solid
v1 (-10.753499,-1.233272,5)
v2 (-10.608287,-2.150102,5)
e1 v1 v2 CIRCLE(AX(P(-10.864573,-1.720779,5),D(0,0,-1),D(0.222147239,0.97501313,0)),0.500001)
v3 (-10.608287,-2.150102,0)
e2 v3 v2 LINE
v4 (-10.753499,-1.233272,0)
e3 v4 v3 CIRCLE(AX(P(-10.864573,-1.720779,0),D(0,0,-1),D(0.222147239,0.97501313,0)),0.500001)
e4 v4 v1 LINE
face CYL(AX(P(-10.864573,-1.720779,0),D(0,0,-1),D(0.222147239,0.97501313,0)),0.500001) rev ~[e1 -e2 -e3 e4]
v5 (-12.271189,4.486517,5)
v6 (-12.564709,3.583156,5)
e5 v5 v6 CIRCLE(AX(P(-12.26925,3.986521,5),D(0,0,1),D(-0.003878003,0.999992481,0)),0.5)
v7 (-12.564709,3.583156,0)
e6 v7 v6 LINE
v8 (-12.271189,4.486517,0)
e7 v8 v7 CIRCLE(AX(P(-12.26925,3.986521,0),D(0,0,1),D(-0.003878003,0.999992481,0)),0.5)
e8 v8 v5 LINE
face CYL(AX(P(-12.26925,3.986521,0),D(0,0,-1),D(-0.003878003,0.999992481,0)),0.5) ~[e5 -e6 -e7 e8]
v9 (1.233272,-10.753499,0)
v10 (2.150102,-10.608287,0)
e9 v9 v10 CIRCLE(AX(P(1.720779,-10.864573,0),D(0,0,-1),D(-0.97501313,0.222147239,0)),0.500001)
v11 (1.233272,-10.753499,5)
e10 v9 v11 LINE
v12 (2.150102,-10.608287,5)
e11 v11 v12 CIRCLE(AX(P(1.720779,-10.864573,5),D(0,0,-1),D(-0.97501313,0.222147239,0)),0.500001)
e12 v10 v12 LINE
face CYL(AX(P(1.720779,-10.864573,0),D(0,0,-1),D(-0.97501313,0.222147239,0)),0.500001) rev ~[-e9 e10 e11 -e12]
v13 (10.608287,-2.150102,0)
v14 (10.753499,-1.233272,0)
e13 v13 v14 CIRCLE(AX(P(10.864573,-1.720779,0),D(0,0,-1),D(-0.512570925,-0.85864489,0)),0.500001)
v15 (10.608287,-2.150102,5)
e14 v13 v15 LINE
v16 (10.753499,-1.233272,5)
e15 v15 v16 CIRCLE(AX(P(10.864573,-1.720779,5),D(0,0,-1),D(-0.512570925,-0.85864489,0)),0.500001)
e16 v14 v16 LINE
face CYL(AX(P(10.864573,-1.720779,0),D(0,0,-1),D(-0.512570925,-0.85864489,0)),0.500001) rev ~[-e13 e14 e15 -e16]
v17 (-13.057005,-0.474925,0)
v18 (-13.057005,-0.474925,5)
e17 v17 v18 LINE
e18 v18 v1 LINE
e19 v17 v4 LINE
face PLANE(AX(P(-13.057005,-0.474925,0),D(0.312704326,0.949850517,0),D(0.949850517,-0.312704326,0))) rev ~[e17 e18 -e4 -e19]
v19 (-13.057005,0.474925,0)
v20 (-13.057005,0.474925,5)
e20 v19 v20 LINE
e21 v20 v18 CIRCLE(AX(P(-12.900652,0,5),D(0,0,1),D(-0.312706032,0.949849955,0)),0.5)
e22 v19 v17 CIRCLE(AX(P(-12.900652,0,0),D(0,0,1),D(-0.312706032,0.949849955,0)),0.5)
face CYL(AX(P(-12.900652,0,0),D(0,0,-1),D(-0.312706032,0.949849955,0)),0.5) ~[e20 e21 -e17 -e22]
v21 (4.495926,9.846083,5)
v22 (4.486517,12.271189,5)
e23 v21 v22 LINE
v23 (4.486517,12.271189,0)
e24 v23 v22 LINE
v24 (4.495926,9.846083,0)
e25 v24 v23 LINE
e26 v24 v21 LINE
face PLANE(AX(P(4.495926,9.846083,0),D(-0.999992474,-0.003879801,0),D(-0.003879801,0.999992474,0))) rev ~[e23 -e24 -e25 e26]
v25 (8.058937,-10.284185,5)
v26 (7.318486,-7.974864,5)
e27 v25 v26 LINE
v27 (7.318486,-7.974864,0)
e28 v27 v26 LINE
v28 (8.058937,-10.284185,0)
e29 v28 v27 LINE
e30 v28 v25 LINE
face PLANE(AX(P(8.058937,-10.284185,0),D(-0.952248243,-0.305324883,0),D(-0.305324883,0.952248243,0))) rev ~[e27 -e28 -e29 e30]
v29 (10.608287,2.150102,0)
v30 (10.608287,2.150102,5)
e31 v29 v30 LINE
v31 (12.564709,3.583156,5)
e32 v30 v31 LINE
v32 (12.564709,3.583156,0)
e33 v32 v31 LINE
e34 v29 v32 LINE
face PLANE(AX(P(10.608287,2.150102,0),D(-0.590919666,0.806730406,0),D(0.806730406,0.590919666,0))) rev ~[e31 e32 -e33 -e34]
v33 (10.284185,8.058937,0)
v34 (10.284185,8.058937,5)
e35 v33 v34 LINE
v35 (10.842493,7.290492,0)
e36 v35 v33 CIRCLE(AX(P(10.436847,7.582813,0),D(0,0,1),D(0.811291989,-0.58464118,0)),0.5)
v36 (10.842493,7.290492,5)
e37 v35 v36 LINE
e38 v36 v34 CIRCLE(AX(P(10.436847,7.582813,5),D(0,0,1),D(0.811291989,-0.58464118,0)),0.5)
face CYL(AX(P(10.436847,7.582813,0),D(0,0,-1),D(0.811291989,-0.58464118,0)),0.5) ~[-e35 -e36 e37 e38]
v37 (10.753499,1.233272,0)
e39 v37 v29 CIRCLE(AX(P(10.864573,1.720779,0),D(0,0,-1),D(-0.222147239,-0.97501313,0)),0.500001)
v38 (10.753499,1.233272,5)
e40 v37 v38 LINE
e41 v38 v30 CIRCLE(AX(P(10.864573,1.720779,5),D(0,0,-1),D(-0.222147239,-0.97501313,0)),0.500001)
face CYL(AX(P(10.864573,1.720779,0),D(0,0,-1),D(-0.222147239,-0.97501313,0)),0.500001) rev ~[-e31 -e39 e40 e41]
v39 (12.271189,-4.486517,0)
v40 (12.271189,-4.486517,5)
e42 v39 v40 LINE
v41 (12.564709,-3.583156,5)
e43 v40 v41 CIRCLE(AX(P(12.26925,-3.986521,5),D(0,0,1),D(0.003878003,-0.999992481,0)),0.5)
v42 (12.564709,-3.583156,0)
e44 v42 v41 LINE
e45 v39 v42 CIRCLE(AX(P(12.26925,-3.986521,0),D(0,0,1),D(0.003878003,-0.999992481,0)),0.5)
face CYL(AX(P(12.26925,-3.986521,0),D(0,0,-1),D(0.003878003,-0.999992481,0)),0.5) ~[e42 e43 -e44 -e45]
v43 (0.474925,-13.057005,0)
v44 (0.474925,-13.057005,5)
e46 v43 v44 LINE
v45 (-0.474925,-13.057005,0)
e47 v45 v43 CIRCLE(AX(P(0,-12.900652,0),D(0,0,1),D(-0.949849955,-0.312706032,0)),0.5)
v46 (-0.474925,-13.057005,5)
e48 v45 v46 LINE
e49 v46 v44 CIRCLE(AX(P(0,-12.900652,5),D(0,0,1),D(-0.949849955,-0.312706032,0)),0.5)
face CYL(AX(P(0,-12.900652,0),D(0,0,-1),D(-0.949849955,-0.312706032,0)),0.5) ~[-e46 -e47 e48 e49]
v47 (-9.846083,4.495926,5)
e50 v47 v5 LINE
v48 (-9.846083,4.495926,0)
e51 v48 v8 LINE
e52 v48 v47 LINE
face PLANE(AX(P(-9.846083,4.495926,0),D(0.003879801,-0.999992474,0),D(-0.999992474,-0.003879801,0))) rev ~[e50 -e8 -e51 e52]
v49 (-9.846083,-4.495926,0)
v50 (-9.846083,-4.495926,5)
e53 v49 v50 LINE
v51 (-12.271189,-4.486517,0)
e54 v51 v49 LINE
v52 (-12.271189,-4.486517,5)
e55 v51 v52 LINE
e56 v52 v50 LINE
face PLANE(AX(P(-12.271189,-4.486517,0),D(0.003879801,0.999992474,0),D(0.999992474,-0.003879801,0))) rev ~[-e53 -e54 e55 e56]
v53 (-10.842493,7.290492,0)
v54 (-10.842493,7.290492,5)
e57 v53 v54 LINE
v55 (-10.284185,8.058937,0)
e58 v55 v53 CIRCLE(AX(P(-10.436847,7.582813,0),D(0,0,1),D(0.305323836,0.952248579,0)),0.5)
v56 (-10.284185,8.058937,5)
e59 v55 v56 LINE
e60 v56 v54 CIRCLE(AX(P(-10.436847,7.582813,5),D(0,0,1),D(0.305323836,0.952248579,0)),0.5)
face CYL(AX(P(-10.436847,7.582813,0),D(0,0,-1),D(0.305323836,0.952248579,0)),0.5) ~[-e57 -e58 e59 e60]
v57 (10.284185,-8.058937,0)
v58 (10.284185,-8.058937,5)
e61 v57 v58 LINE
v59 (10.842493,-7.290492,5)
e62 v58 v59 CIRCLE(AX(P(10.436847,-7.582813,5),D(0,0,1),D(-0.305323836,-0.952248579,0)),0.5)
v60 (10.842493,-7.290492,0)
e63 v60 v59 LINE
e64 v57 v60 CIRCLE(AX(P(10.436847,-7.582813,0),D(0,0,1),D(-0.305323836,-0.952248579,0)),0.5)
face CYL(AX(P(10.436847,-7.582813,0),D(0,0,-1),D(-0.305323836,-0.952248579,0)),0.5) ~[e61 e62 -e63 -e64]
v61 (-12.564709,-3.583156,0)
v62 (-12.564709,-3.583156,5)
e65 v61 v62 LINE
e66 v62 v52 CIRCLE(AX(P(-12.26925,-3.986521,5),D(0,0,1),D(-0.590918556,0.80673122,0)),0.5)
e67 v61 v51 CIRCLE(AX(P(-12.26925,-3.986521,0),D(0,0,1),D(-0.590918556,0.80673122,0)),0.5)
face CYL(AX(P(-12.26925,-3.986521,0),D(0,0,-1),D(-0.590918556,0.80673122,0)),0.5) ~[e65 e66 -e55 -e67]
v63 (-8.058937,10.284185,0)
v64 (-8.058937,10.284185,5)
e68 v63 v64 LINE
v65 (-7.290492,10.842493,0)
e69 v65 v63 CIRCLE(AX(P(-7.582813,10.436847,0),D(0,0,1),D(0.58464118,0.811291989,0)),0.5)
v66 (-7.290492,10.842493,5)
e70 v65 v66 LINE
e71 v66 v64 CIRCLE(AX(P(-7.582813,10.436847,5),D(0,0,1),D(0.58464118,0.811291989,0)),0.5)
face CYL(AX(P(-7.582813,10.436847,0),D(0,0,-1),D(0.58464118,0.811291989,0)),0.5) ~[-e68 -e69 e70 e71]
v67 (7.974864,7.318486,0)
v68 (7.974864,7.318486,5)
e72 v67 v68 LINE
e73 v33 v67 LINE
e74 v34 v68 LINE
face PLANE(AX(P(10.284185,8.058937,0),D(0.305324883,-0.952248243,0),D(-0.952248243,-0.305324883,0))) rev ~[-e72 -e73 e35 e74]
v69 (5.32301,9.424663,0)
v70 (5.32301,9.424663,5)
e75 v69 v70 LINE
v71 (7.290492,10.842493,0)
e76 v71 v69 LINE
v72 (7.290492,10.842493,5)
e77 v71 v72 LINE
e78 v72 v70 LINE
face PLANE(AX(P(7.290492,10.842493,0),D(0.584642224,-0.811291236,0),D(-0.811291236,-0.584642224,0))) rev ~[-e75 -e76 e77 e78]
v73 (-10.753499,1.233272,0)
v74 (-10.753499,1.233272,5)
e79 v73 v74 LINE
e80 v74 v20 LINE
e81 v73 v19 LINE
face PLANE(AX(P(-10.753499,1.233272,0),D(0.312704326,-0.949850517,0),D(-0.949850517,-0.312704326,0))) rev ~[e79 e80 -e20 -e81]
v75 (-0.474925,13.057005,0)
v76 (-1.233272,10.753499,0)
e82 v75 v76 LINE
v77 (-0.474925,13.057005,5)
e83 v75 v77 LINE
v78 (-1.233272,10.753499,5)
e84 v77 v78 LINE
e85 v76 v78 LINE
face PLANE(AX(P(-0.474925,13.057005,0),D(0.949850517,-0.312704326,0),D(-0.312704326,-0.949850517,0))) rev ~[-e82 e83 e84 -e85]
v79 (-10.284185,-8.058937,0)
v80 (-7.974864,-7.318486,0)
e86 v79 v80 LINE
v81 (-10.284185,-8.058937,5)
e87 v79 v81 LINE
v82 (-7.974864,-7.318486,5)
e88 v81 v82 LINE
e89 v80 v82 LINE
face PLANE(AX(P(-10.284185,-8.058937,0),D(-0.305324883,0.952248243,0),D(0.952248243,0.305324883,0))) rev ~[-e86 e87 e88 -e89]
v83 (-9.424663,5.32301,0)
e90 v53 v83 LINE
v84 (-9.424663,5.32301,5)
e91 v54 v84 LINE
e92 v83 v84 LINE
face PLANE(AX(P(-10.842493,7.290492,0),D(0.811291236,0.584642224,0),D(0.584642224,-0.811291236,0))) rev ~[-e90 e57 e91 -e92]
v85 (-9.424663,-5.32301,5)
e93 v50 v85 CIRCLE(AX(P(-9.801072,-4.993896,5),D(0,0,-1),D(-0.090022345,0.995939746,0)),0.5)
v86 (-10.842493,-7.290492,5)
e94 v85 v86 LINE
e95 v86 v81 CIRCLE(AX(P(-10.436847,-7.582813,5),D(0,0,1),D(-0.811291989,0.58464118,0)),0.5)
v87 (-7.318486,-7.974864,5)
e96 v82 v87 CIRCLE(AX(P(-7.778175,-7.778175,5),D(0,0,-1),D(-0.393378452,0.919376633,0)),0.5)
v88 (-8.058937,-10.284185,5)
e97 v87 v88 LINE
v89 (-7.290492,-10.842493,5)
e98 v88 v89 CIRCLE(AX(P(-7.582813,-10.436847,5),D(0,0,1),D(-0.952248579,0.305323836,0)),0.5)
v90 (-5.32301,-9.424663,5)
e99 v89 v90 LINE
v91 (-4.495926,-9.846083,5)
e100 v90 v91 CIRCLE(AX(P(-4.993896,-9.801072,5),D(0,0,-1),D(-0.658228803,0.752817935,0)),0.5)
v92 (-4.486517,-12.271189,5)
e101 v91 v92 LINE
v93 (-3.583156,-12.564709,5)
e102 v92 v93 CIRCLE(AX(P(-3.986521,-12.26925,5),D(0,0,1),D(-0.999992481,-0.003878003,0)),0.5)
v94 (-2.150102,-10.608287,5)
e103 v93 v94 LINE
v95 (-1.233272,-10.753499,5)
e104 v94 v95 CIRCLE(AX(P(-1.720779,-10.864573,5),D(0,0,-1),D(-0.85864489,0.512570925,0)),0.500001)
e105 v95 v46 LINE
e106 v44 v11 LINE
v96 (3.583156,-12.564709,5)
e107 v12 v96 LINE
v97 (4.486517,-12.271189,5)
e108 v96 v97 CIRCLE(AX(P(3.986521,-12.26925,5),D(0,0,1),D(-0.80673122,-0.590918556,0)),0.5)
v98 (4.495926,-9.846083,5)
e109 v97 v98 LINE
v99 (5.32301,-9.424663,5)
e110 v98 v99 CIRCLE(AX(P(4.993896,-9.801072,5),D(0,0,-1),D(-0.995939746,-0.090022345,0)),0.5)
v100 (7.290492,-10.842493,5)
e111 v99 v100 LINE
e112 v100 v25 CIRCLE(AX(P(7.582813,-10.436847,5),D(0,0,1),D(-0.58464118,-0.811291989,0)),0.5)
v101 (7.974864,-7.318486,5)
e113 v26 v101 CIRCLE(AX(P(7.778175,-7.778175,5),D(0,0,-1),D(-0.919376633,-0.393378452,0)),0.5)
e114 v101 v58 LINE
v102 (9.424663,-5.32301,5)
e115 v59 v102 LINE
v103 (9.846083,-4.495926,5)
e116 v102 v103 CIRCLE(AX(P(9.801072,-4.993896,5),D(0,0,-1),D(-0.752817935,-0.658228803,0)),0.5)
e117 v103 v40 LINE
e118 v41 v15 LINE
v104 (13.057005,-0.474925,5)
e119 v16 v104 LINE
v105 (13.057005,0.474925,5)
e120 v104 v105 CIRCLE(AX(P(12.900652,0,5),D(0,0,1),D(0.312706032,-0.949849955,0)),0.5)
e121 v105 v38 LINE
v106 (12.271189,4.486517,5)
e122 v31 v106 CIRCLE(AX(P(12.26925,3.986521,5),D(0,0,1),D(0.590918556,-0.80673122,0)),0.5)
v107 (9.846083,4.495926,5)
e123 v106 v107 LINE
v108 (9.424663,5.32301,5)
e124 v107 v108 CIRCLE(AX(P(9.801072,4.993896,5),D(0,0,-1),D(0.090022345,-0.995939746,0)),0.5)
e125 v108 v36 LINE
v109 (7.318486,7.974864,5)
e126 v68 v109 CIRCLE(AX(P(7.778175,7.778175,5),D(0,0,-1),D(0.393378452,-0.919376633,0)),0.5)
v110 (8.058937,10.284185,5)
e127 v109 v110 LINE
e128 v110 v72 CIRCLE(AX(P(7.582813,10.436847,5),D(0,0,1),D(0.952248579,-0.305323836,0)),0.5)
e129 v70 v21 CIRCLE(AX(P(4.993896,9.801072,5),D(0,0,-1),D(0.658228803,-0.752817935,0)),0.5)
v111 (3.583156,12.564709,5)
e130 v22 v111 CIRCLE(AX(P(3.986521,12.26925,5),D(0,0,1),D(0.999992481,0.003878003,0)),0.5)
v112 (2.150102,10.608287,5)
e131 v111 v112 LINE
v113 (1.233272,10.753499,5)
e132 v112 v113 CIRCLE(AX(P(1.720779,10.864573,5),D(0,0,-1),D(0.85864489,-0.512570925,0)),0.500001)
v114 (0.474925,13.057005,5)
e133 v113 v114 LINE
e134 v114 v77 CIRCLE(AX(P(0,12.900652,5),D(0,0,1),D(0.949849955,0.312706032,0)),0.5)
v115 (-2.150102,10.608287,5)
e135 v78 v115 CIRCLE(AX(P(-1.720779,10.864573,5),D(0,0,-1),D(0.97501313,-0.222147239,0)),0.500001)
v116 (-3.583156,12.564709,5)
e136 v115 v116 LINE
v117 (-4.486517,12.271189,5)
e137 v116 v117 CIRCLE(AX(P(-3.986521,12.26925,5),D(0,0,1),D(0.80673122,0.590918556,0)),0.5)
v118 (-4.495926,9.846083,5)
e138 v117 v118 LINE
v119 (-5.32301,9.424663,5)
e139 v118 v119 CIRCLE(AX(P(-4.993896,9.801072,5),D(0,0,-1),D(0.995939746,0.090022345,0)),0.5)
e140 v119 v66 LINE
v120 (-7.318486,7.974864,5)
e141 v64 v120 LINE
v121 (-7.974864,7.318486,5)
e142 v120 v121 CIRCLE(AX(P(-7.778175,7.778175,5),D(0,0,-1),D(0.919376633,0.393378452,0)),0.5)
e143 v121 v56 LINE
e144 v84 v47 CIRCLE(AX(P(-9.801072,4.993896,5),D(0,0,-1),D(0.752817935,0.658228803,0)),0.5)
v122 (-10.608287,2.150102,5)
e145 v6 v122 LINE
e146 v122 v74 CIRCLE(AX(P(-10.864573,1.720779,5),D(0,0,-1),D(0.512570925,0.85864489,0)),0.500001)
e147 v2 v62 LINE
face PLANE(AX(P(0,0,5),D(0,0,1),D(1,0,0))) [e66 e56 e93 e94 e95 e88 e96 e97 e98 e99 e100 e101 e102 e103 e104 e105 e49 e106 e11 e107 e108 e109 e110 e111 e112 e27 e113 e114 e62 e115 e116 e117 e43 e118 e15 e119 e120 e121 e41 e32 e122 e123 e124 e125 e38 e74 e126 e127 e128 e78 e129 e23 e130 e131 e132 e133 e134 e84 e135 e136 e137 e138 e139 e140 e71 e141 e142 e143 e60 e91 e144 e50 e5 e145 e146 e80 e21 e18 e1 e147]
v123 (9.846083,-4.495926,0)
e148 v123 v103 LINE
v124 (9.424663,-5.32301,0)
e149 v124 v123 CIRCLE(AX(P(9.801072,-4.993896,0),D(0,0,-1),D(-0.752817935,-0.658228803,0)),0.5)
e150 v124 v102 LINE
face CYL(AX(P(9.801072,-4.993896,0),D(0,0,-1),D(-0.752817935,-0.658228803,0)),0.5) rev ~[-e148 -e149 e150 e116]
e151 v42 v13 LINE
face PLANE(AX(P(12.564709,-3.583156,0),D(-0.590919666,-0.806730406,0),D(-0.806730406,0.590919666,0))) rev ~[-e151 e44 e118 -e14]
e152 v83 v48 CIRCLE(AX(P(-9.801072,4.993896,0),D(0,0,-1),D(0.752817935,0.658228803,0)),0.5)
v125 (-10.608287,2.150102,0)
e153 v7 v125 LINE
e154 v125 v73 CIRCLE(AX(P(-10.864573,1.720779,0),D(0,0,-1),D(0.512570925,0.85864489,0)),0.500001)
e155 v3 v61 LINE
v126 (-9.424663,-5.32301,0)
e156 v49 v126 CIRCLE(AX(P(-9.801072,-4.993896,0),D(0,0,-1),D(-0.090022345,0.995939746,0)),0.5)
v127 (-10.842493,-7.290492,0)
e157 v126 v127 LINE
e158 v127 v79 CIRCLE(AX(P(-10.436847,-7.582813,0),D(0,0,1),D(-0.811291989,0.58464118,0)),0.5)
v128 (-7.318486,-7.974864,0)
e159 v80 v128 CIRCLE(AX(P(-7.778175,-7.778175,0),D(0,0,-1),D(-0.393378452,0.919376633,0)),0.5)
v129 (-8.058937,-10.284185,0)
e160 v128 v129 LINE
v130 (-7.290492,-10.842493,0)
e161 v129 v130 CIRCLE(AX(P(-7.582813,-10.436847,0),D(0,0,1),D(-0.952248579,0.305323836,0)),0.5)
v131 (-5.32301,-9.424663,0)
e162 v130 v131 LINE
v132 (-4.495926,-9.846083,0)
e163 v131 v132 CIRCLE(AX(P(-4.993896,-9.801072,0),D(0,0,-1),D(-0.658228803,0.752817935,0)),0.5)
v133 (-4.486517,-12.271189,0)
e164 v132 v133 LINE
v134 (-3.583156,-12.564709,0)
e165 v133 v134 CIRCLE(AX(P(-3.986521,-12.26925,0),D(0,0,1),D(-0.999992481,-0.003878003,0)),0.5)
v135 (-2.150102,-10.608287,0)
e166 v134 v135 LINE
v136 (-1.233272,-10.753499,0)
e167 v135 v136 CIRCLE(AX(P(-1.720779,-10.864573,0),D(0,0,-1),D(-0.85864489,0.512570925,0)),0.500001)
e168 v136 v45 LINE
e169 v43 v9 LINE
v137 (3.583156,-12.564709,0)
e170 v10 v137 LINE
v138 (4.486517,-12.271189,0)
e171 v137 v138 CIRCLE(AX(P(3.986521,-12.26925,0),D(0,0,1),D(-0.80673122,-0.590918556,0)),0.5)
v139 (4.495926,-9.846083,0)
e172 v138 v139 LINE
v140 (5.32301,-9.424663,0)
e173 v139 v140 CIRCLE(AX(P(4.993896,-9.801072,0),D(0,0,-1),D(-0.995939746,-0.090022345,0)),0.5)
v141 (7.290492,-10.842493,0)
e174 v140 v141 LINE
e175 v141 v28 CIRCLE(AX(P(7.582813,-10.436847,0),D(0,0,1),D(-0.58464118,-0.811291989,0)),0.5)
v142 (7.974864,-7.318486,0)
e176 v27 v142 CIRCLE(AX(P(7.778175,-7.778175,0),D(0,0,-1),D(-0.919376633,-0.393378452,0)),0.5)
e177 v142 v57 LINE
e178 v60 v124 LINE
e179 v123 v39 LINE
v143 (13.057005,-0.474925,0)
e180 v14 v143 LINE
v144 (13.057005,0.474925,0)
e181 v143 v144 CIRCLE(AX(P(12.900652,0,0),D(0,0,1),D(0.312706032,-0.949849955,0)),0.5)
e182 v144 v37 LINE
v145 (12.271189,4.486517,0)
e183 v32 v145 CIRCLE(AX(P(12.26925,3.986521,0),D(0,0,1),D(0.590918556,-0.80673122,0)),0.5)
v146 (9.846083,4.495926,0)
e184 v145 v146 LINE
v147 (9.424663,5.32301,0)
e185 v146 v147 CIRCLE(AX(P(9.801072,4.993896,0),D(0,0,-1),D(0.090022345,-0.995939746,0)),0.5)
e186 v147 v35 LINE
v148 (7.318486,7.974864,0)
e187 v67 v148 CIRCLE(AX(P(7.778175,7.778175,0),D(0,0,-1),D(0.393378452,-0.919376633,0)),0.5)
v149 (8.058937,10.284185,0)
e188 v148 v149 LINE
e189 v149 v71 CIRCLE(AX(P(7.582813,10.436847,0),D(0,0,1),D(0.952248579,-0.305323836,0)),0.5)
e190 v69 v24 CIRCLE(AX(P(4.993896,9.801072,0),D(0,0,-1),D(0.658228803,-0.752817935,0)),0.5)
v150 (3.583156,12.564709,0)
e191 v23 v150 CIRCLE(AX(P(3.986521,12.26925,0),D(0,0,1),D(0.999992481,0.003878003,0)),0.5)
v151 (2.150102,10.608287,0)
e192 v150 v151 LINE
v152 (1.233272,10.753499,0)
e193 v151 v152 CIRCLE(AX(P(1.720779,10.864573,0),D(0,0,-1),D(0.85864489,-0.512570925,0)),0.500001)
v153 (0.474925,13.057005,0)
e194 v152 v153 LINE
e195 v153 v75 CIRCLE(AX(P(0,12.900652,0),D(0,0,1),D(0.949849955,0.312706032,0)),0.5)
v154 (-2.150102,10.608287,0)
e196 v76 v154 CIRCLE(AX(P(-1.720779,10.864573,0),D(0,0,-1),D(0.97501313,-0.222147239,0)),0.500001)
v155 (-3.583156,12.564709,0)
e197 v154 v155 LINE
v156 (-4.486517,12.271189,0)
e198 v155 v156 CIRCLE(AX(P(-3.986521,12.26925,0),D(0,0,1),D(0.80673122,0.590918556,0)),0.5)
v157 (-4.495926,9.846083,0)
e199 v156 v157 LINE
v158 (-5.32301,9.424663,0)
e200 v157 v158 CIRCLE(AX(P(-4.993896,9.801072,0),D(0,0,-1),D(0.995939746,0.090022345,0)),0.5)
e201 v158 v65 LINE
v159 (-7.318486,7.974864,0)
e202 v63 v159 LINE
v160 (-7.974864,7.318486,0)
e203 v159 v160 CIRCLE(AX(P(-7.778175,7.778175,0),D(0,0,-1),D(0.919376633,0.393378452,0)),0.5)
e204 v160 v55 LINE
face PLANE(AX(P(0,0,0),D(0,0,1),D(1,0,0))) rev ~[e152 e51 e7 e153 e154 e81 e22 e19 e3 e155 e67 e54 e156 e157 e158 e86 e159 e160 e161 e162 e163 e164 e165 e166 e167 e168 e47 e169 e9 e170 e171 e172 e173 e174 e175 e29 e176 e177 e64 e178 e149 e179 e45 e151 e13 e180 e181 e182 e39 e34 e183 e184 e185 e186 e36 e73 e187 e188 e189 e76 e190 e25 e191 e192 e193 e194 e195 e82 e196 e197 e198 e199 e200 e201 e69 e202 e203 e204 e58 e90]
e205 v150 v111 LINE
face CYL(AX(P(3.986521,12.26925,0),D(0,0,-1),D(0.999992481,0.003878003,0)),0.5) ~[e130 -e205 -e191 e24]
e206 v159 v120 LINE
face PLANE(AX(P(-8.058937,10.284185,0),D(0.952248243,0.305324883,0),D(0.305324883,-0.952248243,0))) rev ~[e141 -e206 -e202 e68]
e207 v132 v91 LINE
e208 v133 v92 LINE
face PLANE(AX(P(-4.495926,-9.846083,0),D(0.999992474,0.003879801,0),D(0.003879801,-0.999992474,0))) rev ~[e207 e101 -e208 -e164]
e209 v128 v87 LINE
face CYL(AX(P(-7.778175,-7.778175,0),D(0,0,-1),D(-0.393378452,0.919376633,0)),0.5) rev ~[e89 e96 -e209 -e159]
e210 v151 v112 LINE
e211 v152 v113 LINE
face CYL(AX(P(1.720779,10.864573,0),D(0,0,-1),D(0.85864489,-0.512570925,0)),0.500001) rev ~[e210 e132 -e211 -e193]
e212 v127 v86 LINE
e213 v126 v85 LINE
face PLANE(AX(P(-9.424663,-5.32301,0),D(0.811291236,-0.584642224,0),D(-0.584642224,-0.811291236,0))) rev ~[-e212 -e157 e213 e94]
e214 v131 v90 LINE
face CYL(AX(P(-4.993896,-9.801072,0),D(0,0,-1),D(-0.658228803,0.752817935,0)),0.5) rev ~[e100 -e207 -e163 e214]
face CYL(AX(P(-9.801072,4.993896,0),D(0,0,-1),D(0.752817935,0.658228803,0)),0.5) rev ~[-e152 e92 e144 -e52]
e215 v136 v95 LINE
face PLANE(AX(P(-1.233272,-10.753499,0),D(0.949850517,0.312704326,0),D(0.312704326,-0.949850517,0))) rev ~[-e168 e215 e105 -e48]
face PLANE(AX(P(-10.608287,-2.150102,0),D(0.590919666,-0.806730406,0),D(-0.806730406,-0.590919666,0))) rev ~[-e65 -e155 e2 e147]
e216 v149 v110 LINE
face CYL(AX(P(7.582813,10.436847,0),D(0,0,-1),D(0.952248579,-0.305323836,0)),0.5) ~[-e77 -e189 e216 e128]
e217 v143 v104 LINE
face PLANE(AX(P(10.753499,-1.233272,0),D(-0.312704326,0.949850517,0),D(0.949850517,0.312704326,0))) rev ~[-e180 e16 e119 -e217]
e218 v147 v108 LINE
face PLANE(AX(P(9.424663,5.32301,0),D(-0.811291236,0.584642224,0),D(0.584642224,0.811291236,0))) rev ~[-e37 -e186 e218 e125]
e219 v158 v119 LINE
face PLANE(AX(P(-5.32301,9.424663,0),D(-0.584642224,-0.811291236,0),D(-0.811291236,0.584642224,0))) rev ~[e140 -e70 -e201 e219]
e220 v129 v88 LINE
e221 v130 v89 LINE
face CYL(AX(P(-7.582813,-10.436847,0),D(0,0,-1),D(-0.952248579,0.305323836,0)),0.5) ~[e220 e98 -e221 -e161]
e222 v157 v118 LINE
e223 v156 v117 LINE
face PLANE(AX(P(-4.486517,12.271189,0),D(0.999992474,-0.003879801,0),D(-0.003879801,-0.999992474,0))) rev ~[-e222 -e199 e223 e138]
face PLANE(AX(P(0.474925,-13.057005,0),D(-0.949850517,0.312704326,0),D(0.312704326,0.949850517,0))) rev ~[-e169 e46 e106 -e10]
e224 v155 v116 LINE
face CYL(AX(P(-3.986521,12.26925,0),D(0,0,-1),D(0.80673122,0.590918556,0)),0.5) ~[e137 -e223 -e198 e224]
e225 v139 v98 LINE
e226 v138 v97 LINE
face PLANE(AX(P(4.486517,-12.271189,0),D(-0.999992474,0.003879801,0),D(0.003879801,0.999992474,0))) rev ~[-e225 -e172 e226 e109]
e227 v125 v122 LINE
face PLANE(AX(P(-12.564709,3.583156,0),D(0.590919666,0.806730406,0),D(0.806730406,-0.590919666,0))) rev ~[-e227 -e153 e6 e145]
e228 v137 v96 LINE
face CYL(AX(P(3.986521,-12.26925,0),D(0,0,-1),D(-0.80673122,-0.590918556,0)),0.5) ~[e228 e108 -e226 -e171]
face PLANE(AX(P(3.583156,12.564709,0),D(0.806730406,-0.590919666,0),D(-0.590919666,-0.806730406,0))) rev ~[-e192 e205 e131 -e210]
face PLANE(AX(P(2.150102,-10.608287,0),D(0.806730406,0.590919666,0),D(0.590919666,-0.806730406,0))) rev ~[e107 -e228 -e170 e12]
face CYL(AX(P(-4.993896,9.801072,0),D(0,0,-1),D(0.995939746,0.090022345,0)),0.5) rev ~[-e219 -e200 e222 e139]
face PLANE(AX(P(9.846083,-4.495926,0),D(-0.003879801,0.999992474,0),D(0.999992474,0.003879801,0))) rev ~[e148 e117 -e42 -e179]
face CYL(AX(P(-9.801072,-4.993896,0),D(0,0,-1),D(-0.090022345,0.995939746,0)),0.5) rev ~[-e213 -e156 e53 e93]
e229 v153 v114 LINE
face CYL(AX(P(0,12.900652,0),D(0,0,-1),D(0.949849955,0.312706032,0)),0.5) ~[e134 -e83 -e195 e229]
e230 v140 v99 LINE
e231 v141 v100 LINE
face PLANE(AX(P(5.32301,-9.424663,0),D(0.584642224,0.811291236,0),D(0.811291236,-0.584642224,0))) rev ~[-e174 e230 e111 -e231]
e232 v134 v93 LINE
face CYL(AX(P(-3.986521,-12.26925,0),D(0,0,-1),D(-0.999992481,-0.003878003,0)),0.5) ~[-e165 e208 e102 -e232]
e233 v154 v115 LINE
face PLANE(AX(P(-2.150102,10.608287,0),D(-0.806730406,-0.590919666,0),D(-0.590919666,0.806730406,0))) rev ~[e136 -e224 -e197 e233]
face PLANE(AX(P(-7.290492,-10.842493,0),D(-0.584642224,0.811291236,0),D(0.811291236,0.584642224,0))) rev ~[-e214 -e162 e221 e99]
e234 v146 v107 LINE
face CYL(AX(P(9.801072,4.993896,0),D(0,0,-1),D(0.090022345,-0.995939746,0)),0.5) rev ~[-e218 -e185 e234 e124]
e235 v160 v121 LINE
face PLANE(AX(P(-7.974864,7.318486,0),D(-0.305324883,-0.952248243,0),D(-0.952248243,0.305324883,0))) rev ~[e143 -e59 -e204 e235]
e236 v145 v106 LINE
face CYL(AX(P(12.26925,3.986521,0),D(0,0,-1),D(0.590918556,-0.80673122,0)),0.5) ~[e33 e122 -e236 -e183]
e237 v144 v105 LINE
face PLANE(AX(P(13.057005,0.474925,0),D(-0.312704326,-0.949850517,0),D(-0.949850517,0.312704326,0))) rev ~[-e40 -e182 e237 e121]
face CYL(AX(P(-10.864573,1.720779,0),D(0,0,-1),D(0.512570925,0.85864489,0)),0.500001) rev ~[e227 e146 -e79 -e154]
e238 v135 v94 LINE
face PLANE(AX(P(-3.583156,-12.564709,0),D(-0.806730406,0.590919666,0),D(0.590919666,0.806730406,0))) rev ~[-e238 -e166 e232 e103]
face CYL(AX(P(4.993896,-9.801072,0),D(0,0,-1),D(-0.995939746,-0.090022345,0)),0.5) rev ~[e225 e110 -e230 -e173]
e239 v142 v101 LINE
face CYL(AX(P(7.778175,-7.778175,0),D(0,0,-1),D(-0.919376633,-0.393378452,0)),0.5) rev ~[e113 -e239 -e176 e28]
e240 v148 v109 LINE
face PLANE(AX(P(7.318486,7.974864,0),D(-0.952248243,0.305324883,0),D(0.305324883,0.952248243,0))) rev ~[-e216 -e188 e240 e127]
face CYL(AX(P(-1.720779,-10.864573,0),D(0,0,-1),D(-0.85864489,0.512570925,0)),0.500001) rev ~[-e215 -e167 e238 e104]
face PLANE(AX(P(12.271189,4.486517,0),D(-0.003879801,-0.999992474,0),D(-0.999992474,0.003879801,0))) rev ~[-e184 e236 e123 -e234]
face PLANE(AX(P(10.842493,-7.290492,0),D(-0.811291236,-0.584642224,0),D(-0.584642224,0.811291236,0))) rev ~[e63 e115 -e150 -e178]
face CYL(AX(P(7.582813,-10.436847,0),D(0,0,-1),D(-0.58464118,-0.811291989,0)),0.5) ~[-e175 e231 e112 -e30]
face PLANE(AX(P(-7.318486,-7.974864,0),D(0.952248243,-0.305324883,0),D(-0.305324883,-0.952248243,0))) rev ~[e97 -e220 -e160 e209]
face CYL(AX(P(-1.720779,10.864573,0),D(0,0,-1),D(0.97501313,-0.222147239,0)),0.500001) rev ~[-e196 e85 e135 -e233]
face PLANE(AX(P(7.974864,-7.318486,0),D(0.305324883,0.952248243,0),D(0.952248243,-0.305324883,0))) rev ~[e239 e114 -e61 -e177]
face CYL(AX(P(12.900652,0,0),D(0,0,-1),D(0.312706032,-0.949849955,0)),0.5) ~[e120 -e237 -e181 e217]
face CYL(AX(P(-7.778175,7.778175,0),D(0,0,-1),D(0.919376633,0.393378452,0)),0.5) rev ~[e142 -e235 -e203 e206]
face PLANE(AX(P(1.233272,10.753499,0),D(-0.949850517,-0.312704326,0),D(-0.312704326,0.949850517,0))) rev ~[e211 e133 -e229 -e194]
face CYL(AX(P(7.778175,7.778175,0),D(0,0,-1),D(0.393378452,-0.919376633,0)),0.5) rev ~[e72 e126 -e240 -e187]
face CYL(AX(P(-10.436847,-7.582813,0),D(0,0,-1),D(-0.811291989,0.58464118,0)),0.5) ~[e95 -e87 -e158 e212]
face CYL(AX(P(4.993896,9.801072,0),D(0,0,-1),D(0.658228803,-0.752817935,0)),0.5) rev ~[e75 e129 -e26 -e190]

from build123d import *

# Parameters (mm, degrees)
F1_DEPTH = 5


with BuildPart() as f1:
    # F0 (on Top) → F1 (new body)
    with BuildSketch(Plane.XY):
        with BuildLine():
            Line((-0.474925, 13.057005), (-1.233272, 10.753499))
            ThreePointArc((-1.233272, 10.753499), (-1.642562, 10.370728), (-2.150102, 10.608287))
            Line((-2.150102, 10.608287), (-3.583156, 12.564709))
            ThreePointArc((-3.583156, 12.564709), (-4.141029, 12.744778), (-4.486517, 12.271189))
            Line((-4.486517, 12.271189), (-4.495926, 9.846083))
            ThreePointArc((-4.495926, 9.846083), (-4.7669, 9.355569), (-5.32301, 9.424663))
            Line((-5.32301, 9.424663), (-7.290492, 10.842493))
            ThreePointArc((-7.290492, 10.842493), (-7.876706, 10.841355), (-8.058937, 10.284185))
            Line((-8.058937, 10.284185), (-7.318486, 7.974864))
            ThreePointArc((-7.318486, 7.974864), (-7.424621, 7.424621), (-7.974864, 7.318486))
            Line((-7.974864, 7.318486), (-10.284185, 8.058937))
            ThreePointArc((-10.284185, 8.058937), (-10.841355, 7.876706), (-10.842493, 7.290492))
            Line((-10.842493, 7.290492), (-9.424663, 5.32301))
            ThreePointArc((-9.424663, 5.32301), (-9.355569, 4.7669), (-9.846083, 4.495926))
            Line((-9.846083, 4.495926), (-12.271189, 4.486517))
            ThreePointArc((-12.271189, 4.486517), (-12.744778, 4.141029), (-12.564709, 3.583156))
            Line((-12.564709, 3.583156), (-10.608287, 2.150102))
            ThreePointArc((-10.608287, 2.150102), (-10.370728, 1.642562), (-10.753499, 1.233272))
            Line((-10.753499, 1.233272), (-13.057005, 0.474925))
            ThreePointArc((-13.057005, 0.474925), (-13.400652, 0), (-13.057005, -0.474925))
            Line((-13.057005, -0.474925), (-10.753499, -1.233272))
            ThreePointArc((-10.753499, -1.233272), (-10.370728, -1.642562), (-10.608287, -2.150102))
            Line((-10.608287, -2.150102), (-12.564709, -3.583156))
            ThreePointArc((-12.564709, -3.583156), (-12.744778, -4.141029), (-12.271189, -4.486517))
            Line((-12.271189, -4.486517), (-9.846083, -4.495926))
            ThreePointArc((-9.846083, -4.495926), (-9.355569, -4.7669), (-9.424663, -5.32301))
            Line((-9.424663, -5.32301), (-10.842493, -7.290492))
            ThreePointArc((-10.842493, -7.290492), (-10.841355, -7.876706), (-10.284185, -8.058937))
            Line((-10.284185, -8.058937), (-7.974864, -7.318486))
            ThreePointArc((-7.974864, -7.318486), (-7.424621, -7.424621), (-7.318486, -7.974864))
            Line((-7.318486, -7.974864), (-8.058937, -10.284185))
            ThreePointArc((-8.058937, -10.284185), (-7.876706, -10.841355), (-7.290492, -10.842493))
            Line((-7.290492, -10.842493), (-5.32301, -9.424663))
            ThreePointArc((-5.32301, -9.424663), (-4.7669, -9.355569), (-4.495926, -9.846083))
            Line((-4.495926, -9.846083), (-4.486517, -12.271189))
            ThreePointArc((-4.486517, -12.271189), (-4.141029, -12.744778), (-3.583156, -12.564709))
            Line((-3.583156, -12.564709), (-2.150102, -10.608287))
            ThreePointArc((-2.150102, -10.608287), (-1.642562, -10.370728), (-1.233272, -10.753499))
            Line((-1.233272, -10.753499), (-0.474925, -13.057005))
            ThreePointArc((-0.474925, -13.057005), (0, -13.400652), (0.474925, -13.057005))
            Line((0.474925, -13.057005), (1.233272, -10.753499))
            ThreePointArc((1.233272, -10.753499), (1.642562, -10.370728), (2.150102, -10.608287))
            Line((2.150102, -10.608287), (3.583156, -12.564709))
            ThreePointArc((3.583156, -12.564709), (4.141029, -12.744778), (4.486517, -12.271189))
            Line((4.486517, -12.271189), (4.495926, -9.846083))
            ThreePointArc((4.495926, -9.846083), (4.7669, -9.355569), (5.32301, -9.424663))
            Line((5.32301, -9.424663), (7.290492, -10.842493))
            ThreePointArc((7.290492, -10.842493), (7.876706, -10.841355), (8.058937, -10.284185))
            Line((8.058937, -10.284185), (7.318486, -7.974864))
            ThreePointArc((7.318486, -7.974864), (7.424621, -7.424621), (7.974864, -7.318486))
            Line((7.974864, -7.318486), (10.284185, -8.058937))
            ThreePointArc((10.284185, -8.058937), (10.841355, -7.876706), (10.842493, -7.290492))
            Line((10.842493, -7.290492), (9.424663, -5.32301))
            ThreePointArc((9.424663, -5.32301), (9.355569, -4.7669), (9.846083, -4.495926))
            Line((9.846083, -4.495926), (12.271189, -4.486517))
            ThreePointArc((12.271189, -4.486517), (12.744778, -4.141029), (12.564709, -3.583156))
            Line((12.564709, -3.583156), (10.608287, -2.150102))
            ThreePointArc((10.608287, -2.150102), (10.370728, -1.642562), (10.753499, -1.233272))
            Line((10.753499, -1.233272), (13.057005, -0.474925))
            ThreePointArc((13.057005, -0.474925), (13.400652, 0), (13.057005, 0.474925))
            Line((13.057005, 0.474925), (10.753499, 1.233272))
            ThreePointArc((10.753499, 1.233272), (10.370728, 1.642562), (10.608287, 2.150102))
            Line((10.608287, 2.150102), (12.564709, 3.583156))
            ThreePointArc((12.564709, 3.583156), (12.744778, 4.141029), (12.271189, 4.486517))
            Line((12.271189, 4.486517), (9.846083, 4.495926))
            ThreePointArc((9.846083, 4.495926), (9.355569, 4.7669), (9.424663, 5.32301))
            Line((9.424663, 5.32301), (10.842493, 7.290492))
            ThreePointArc((10.842493, 7.290492), (10.841355, 7.876706), (10.284185, 8.058937))
            Line((10.284185, 8.058937), (7.974864, 7.318486))
            ThreePointArc((7.974864, 7.318486), (7.424621, 7.424621), (7.318486, 7.974864))
            Line((7.318486, 7.974864), (8.058937, 10.284185))
            ThreePointArc((8.058937, 10.284185), (7.876706, 10.841355), (7.290492, 10.842493))
            Line((7.290492, 10.842493), (5.32301, 9.424663))
            ThreePointArc((5.32301, 9.424663), (4.7669, 9.355569), (4.495926, 9.846083))
            Line((4.495926, 9.846083), (4.486517, 12.271189))
            ThreePointArc((4.486517, 12.271189), (4.141029, 12.744778), (3.583156, 12.564709))
            Line((3.583156, 12.564709), (2.150102, 10.608287))
            ThreePointArc((2.150102, 10.608287), (1.642562, 10.370728), (1.233272, 10.753499))
            Line((1.233272, 10.753499), (0.474925, 13.057005))
            ThreePointArc((0.474925, 13.057005), (0, 13.400652), (-0.474925, 13.057005))
        make_face()
    extrude(amount=F1_DEPTH)


solid = f1.part
